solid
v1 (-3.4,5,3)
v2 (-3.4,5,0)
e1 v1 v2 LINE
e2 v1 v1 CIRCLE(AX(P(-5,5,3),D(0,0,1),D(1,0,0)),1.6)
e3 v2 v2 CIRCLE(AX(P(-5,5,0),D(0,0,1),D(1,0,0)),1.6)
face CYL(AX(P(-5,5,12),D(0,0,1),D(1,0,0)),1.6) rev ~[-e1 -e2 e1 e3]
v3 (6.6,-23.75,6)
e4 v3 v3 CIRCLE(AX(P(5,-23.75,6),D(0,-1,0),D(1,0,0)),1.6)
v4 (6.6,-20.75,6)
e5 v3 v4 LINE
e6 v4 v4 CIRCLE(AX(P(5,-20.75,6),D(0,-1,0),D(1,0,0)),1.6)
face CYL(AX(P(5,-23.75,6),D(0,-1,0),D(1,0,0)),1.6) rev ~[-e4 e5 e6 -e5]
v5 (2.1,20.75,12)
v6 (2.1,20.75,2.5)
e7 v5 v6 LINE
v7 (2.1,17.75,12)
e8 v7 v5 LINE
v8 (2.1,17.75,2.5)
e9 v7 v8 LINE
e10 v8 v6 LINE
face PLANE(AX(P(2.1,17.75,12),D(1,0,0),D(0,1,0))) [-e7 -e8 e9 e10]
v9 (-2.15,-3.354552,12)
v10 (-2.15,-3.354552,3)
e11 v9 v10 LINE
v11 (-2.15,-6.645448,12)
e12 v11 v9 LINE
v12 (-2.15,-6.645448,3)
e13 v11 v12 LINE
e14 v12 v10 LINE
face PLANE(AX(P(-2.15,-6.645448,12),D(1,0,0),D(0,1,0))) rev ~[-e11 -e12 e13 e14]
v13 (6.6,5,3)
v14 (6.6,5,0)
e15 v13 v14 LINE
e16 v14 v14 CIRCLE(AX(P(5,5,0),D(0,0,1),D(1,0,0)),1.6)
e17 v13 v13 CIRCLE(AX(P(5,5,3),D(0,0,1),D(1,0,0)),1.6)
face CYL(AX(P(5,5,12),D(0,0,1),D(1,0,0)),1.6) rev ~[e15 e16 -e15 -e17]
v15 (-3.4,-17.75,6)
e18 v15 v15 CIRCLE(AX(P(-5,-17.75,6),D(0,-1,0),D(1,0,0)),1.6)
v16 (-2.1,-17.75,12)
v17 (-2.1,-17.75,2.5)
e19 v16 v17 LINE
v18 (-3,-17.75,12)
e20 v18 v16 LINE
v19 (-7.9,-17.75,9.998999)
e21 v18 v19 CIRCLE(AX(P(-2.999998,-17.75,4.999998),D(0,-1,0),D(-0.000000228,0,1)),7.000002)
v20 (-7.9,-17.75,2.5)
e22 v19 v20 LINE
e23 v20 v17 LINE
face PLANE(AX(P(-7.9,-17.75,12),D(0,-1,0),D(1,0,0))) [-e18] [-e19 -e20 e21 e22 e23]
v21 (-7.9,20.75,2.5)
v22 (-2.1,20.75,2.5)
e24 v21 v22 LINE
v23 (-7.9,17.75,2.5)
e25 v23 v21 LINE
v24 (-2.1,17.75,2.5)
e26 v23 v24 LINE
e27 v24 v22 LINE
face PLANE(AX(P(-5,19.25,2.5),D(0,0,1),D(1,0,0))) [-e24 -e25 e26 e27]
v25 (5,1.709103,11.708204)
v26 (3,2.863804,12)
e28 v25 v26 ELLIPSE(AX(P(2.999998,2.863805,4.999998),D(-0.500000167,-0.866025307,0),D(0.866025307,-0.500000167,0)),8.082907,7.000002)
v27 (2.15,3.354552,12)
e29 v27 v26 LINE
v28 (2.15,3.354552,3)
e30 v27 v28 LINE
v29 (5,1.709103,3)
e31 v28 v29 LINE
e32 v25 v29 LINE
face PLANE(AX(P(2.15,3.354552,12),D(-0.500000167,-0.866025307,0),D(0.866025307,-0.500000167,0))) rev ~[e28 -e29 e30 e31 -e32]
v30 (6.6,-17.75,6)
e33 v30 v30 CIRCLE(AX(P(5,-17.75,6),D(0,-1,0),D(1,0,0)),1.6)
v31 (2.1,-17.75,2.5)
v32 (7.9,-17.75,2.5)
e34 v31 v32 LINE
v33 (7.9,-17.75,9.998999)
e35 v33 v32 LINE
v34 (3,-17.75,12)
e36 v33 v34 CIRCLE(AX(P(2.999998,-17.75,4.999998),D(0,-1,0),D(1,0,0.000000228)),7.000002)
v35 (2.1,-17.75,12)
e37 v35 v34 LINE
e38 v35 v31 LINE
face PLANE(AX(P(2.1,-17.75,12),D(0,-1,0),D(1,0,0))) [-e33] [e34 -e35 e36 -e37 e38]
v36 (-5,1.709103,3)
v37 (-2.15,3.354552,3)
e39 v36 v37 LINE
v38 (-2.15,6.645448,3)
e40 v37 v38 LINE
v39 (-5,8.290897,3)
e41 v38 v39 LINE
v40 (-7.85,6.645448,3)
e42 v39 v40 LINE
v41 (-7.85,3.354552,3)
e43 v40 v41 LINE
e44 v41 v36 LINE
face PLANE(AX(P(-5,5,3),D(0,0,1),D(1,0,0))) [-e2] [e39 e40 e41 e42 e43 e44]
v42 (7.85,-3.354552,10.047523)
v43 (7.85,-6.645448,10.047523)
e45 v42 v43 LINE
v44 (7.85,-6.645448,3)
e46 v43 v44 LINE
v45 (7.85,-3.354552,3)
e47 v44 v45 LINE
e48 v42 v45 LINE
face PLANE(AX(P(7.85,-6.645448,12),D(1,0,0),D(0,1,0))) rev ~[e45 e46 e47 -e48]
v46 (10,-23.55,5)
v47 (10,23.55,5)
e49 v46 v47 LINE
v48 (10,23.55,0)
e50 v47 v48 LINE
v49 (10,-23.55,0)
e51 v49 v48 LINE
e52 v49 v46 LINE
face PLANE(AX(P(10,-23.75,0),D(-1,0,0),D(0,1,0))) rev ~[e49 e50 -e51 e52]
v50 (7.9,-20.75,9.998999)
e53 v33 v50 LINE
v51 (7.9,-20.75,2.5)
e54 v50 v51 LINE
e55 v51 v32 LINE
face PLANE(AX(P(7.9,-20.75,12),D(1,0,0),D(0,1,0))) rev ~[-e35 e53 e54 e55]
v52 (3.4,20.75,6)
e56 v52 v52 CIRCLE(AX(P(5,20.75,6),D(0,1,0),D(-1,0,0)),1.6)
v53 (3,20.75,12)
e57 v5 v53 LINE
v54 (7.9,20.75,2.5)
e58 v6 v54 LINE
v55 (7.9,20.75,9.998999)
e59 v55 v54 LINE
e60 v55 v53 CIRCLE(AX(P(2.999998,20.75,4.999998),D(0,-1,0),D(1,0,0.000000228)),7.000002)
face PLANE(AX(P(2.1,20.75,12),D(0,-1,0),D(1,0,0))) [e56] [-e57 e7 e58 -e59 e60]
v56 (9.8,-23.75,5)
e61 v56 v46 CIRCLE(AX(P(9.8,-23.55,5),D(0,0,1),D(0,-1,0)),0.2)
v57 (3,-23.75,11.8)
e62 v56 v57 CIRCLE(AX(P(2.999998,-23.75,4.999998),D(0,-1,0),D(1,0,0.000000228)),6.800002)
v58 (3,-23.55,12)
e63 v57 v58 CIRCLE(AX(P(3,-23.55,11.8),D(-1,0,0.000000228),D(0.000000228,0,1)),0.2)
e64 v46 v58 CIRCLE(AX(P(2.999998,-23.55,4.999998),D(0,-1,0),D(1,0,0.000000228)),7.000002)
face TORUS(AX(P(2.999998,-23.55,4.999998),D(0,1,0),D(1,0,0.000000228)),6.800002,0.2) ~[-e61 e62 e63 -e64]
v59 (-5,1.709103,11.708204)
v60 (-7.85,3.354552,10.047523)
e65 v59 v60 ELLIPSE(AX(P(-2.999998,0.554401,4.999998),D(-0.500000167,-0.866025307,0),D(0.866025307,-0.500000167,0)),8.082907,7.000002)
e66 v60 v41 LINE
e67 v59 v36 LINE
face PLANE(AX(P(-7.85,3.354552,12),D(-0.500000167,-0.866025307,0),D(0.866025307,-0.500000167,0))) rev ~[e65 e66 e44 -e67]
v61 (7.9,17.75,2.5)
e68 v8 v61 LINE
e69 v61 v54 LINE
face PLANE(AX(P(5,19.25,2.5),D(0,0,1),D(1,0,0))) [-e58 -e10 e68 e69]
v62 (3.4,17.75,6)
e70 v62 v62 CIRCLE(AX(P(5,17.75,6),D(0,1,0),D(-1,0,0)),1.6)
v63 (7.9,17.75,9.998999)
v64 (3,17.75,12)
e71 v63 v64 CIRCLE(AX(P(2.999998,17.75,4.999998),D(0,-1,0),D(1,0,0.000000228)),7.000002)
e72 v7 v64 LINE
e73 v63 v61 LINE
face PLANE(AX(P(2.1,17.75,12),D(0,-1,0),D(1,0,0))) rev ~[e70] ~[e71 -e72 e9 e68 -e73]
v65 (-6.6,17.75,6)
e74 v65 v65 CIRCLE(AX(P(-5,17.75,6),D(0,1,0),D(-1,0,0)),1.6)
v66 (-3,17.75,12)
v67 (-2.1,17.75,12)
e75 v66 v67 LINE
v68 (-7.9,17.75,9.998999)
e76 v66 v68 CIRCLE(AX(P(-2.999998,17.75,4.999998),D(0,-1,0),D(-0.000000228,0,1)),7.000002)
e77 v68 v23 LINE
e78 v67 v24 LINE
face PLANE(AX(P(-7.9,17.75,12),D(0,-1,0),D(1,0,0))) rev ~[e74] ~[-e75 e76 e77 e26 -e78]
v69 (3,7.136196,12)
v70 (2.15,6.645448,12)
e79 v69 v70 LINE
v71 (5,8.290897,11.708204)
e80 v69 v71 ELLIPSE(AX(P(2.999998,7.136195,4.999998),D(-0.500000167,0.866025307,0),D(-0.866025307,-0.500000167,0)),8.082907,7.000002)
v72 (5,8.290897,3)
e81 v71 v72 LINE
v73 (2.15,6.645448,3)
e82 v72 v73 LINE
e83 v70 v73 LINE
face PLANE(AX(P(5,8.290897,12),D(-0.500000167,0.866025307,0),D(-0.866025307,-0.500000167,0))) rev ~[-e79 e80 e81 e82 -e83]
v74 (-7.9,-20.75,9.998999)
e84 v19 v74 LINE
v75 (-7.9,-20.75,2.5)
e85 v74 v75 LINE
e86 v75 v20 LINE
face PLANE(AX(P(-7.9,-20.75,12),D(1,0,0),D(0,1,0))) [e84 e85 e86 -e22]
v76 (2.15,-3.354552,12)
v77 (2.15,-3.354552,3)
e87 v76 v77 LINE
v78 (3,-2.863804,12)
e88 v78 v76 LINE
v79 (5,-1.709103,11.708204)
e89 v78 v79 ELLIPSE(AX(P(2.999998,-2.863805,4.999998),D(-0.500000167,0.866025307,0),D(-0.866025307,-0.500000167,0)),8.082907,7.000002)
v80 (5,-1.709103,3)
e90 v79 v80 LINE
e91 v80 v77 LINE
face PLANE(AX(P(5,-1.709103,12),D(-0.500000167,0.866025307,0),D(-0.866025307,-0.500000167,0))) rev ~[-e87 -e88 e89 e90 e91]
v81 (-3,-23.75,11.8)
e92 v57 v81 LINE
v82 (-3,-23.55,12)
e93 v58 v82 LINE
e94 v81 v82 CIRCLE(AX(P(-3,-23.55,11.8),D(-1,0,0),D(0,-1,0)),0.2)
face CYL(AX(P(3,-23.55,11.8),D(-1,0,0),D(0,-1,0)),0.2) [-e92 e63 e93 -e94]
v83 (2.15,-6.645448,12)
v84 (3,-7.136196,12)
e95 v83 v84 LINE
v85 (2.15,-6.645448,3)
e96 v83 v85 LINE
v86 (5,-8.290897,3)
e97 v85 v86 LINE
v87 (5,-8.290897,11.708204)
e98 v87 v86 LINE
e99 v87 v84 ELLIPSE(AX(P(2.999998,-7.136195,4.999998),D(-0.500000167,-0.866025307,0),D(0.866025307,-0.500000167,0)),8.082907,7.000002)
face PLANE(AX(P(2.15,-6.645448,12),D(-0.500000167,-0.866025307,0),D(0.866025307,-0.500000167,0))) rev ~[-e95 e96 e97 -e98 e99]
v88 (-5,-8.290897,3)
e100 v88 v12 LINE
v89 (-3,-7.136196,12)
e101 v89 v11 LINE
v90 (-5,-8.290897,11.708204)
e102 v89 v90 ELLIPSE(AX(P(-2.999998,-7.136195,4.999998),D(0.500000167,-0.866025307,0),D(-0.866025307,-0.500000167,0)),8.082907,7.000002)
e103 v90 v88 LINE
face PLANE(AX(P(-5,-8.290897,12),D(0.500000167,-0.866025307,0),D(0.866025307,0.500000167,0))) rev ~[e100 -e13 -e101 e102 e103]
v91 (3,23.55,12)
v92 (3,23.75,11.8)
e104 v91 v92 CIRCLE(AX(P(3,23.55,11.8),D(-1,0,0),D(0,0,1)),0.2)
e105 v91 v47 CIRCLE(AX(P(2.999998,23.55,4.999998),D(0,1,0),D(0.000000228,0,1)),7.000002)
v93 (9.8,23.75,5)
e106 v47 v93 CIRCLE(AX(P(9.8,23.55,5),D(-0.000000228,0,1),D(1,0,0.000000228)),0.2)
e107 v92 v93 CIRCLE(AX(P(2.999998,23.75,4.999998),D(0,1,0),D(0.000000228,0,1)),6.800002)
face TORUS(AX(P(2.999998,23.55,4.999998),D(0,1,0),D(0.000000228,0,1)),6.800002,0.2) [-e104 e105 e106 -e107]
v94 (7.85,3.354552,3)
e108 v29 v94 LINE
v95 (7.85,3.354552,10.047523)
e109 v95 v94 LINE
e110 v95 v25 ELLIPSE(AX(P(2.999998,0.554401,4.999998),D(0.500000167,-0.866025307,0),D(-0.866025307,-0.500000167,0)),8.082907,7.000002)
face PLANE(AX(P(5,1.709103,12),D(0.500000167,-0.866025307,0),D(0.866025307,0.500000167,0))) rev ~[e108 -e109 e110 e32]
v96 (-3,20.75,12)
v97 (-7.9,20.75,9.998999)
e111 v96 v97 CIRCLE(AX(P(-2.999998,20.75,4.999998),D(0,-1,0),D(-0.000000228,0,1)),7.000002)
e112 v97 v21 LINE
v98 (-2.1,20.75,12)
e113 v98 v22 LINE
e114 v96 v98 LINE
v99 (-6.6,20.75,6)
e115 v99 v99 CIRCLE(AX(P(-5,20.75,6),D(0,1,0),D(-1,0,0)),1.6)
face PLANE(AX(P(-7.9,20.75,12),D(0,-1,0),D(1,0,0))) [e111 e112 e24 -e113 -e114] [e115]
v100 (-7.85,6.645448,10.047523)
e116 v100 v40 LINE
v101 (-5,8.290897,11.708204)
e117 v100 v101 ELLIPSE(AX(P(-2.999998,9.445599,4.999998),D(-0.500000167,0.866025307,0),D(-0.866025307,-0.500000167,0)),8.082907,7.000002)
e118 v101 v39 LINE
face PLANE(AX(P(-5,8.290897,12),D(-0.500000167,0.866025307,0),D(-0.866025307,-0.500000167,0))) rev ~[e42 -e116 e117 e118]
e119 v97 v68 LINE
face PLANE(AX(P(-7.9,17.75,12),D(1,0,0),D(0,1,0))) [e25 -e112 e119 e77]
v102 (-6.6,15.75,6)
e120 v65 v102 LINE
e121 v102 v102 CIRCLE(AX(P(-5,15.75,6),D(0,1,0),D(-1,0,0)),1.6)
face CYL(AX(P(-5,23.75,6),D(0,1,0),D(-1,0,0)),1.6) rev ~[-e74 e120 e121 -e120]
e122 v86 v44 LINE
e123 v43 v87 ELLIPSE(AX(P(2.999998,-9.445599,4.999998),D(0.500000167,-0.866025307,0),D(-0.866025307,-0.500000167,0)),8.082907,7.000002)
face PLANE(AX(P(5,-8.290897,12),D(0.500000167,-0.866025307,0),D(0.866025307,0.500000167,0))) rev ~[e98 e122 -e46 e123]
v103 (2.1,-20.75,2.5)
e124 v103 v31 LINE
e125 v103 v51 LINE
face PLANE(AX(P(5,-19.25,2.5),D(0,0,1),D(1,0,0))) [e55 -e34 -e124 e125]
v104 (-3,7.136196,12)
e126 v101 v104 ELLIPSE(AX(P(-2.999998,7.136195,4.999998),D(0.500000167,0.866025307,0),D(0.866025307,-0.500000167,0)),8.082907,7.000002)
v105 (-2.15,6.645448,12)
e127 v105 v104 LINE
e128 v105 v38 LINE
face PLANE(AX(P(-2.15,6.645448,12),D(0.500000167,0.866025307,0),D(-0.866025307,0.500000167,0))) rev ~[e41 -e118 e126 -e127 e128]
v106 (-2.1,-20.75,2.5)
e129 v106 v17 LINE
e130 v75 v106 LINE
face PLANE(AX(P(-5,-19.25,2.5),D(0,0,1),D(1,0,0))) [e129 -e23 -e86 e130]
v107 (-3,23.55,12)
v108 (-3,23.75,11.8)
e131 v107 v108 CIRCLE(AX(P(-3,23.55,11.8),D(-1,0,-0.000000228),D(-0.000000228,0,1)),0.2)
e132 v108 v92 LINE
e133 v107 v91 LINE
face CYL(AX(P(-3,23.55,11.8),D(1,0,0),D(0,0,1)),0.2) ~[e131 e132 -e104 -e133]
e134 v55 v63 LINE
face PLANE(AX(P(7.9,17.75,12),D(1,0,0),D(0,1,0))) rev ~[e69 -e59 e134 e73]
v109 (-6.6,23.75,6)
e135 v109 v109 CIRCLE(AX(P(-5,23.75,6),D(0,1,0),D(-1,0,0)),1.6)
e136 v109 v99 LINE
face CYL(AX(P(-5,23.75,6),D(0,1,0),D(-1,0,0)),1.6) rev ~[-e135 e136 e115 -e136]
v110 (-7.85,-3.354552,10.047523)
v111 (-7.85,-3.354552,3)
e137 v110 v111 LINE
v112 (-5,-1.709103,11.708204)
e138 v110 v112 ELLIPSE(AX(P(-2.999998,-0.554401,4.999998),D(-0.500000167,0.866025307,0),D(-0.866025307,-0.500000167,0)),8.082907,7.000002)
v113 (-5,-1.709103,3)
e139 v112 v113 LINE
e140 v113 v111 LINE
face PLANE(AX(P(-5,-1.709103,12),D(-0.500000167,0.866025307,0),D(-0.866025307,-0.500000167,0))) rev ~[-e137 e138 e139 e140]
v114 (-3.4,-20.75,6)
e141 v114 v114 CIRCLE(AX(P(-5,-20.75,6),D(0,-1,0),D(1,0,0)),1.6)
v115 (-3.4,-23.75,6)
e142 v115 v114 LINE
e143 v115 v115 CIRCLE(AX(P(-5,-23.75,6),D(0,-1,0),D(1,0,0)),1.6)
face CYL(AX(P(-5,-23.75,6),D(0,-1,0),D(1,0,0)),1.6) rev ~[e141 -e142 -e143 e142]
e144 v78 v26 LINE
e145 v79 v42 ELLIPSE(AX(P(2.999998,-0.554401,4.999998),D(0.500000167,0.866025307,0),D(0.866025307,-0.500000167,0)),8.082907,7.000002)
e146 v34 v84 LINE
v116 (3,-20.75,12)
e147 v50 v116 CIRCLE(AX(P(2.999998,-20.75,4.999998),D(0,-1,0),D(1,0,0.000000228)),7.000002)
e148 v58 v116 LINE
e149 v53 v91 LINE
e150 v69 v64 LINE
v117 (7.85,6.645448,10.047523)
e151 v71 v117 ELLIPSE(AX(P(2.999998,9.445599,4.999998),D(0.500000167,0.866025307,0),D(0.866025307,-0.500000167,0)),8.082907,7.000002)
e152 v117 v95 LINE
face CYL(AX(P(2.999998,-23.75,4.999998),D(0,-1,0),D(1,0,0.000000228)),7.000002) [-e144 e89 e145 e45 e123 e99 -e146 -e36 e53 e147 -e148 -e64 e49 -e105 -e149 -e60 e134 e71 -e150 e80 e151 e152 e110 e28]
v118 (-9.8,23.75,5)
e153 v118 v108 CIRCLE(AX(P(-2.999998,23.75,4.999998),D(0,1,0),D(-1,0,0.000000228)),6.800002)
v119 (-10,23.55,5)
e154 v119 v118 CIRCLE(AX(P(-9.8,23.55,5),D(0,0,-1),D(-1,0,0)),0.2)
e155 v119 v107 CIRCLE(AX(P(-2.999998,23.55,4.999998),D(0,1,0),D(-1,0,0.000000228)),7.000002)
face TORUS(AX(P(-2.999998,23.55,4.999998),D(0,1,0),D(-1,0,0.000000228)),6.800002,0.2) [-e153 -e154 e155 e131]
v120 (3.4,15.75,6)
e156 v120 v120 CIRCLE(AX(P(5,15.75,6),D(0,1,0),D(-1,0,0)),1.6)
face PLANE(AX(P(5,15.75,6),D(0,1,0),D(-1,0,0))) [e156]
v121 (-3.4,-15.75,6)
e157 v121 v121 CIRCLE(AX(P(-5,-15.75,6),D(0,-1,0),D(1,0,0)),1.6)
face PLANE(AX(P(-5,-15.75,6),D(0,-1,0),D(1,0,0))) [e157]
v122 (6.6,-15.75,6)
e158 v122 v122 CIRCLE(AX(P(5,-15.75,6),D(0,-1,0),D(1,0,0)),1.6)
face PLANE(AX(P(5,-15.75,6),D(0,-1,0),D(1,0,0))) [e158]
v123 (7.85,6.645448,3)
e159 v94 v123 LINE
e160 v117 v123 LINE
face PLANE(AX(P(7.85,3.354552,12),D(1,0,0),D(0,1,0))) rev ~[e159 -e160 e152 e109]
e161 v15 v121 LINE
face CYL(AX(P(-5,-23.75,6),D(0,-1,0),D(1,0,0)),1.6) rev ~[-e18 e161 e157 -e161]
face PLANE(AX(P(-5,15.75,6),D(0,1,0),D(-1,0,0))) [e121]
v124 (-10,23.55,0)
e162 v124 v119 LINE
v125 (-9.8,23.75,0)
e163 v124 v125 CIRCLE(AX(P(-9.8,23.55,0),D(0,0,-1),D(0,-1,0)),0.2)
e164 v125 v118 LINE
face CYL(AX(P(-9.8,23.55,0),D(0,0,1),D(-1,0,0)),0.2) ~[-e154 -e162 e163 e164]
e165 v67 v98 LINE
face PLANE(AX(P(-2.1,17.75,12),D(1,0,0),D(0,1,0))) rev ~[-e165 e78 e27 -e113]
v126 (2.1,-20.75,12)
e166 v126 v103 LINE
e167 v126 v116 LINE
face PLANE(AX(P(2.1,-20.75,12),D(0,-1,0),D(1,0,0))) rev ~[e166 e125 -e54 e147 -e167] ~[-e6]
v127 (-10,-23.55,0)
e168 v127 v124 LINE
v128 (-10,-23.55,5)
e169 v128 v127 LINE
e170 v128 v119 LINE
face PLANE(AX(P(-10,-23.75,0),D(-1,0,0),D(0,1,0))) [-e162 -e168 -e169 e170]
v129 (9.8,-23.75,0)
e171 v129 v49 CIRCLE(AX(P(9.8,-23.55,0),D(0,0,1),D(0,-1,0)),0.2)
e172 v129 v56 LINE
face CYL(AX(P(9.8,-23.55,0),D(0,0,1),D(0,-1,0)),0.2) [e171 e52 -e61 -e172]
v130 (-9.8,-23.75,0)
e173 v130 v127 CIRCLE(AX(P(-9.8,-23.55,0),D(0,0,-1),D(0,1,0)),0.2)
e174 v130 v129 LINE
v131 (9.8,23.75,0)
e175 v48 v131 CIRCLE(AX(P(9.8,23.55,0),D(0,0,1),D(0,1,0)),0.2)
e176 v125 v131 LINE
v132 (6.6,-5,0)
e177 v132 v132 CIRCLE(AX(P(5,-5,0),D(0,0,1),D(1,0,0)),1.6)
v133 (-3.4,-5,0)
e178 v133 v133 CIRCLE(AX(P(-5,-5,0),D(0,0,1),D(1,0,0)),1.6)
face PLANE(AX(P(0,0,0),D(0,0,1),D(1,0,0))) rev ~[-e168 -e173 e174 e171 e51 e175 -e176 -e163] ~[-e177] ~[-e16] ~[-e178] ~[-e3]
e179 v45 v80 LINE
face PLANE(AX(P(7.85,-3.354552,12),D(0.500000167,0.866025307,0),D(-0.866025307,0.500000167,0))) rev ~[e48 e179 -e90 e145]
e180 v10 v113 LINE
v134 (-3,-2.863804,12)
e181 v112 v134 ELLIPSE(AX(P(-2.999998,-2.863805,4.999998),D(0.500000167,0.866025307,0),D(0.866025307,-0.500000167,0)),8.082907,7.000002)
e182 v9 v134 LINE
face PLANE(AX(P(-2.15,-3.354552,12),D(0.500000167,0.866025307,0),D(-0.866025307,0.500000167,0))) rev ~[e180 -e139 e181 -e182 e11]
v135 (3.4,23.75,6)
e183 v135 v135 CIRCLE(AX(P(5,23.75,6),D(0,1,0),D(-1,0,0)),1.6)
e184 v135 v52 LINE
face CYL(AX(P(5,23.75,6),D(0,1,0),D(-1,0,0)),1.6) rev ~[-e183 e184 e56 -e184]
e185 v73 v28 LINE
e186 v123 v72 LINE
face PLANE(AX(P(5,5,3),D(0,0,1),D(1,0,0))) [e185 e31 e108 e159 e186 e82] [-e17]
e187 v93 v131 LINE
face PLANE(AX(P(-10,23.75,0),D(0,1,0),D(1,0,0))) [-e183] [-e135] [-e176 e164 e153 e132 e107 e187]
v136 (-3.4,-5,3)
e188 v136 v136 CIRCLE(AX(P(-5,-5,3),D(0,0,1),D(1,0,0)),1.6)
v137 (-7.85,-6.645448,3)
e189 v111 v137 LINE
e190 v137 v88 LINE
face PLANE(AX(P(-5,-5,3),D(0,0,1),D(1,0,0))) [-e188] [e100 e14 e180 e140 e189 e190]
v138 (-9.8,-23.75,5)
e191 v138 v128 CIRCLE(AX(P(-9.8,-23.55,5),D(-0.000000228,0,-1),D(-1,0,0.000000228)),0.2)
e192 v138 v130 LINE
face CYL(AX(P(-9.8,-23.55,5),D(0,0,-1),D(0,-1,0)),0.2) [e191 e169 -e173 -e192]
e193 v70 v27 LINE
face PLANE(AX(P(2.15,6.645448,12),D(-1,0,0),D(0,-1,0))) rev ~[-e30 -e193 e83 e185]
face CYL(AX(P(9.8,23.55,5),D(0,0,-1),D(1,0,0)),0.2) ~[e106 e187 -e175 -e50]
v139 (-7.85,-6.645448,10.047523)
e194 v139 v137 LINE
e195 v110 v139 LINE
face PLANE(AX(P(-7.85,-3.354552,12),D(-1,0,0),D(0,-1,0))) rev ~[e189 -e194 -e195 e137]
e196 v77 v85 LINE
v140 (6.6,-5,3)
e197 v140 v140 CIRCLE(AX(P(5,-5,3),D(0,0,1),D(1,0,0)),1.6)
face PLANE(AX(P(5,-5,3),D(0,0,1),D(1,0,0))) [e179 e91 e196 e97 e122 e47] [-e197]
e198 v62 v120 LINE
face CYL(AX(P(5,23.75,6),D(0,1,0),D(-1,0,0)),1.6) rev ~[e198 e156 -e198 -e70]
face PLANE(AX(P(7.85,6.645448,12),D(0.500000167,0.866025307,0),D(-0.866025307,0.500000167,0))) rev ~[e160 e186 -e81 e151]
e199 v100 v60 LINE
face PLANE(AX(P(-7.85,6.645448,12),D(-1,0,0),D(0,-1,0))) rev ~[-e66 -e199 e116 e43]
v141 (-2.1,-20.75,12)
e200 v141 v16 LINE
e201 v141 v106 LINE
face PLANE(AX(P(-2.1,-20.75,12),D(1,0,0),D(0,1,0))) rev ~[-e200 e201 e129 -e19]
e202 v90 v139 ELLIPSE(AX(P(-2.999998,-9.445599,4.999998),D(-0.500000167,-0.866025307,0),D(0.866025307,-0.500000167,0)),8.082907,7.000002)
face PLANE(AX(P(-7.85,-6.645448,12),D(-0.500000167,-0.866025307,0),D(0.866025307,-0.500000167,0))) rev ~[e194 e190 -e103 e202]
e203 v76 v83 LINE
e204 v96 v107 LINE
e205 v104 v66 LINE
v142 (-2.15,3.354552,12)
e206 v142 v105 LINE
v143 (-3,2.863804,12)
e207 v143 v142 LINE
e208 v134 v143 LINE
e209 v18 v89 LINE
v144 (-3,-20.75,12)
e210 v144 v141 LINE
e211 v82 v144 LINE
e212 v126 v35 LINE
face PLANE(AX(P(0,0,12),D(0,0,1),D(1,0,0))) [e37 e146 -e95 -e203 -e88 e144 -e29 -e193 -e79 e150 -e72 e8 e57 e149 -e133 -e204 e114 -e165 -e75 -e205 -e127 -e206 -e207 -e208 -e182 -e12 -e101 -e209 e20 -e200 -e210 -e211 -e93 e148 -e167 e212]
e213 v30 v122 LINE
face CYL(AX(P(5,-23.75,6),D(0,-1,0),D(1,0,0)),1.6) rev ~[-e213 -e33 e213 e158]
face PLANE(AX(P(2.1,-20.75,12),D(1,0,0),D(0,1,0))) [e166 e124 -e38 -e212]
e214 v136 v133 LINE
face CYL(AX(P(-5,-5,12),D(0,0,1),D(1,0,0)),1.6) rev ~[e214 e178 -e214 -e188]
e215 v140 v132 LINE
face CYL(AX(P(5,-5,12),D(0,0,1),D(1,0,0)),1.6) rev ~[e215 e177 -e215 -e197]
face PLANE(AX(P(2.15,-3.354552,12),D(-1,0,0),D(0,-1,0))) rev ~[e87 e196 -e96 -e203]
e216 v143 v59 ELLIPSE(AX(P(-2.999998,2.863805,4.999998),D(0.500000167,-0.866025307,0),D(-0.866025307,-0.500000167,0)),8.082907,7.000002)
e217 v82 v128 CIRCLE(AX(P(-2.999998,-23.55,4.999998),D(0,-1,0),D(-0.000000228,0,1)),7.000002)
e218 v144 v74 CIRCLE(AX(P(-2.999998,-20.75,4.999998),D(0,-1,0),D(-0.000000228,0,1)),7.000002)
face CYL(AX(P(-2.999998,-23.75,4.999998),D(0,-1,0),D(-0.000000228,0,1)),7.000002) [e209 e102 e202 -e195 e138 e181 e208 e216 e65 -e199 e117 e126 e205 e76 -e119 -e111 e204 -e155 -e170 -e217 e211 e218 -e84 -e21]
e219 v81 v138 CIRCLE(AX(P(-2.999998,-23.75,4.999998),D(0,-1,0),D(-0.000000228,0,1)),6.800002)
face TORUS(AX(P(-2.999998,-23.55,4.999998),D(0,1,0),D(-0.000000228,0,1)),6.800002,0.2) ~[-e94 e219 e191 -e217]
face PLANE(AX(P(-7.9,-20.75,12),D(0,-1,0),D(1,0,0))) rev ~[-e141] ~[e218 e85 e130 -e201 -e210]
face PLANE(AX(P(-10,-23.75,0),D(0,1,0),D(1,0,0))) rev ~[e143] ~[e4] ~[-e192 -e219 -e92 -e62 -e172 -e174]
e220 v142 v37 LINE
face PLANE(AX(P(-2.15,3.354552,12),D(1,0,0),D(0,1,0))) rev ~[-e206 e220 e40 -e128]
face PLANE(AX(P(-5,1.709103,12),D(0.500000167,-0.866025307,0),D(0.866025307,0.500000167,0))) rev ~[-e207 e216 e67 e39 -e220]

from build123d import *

# Parameters (mm, degrees)
SKETCH_W        = 20
SKETCH_H        = 47.5
PAD_DEPTH       = 12
SKETCH001_R     = 1.6
POCKET_DEPTH    = 8
SKETCH002_R     = 1.6
POCKET001_DEPTH = 8
SKETCH003_W     = 5.8
SKETCH003_H     = 3
POCKET002_DEPTH = 9.5
SKETCH004_R     = 1.6
POCKET003_DEPTH = 12
POCKET004_DEPTH = 9
POCKET005_DEPTH = 50
FILLET_R        = 0.2


with BuildPart() as part:
    # Sketch → Pad (new body)
    with BuildSketch(Plane.XY):
        Rectangle(SKETCH_W, SKETCH_H)
    extrude(amount=PAD_DEPTH)

    # Sketch001 (on Face3 of Pad) → Pocket (cut)
    with BuildSketch(Plane.XZ.offset(23.75)):
        with Locations((-5, 6)):
            Circle(SKETCH001_R)
        with Locations((5, 6)):
            Circle(SKETCH001_R)
    extrude(amount=-POCKET_DEPTH, mode=Mode.SUBTRACT)

    # Sketch002 (on Face1 of Pocket) → Pocket001 (cut)
    with BuildSketch(Plane(origin=(0, 23.75, 0), x_dir=(-1, 0, 0), z_dir=(0, 1, 0))):
        with Locations((-5, 6)):
            Circle(SKETCH002_R)
        with Locations((5, 6)):
            Circle(SKETCH002_R)
    extrude(amount=-POCKET001_DEPTH, mode=Mode.SUBTRACT)

    # Sketch003 (on Face4 of Pocket001) → Pocket002 (cut)
    with BuildSketch(Plane.XY.offset(12)):
        with Locations((-5, 19.25)):
            Rectangle(SKETCH003_W, SKETCH003_H)
        with Locations((5, 19.25)):
            Rectangle(SKETCH003_W, SKETCH003_H)
        with Locations((-5, -19.25)):
            Rectangle(SKETCH003_W, SKETCH003_H)
        with Locations((5, -19.25)):
            Rectangle(SKETCH003_W, SKETCH003_H)
    extrude(amount=-POCKET002_DEPTH, mode=Mode.SUBTRACT)

    # Sketch004 (on Face4 of Pocket002) → Pocket003 (cut)
    with BuildSketch(Plane.XY.offset(12)):
        with Locations((-5, 5)):
            Circle(SKETCH004_R)
        with Locations((5, 5)):
            Circle(SKETCH004_R)
        with Locations((-5, -5)):
            Circle(SKETCH004_R)
        with Locations((5, -5)):
            Circle(SKETCH004_R)
    extrude(amount=-POCKET003_DEPTH, mode=Mode.SUBTRACT)

    # Sketch005 (on Face4 of Pocket003) → Pocket004 (cut)
    with BuildSketch(Plane.XY.offset(12)):
        Polygon((-5, 8.290897), (-7.85, 6.645448), (-7.85, 3.354552), (-5, 1.709103), (-2.15, 3.354552), (-2.15, 6.645448), align=None)
        Polygon((7.85, 6.645448), (5, 8.290897), (2.15, 6.645448), (2.15, 3.354552), (5, 1.709103), (7.85, 3.354552), align=None)
        Polygon((-5, -1.709103), (-7.85, -3.354552), (-7.85, -6.645448), (-5, -8.290897), (-2.15, -6.645448), (-2.15, -3.354552), align=None)
        Polygon((7.85, -3.354552), (5, -1.709103), (2.15, -3.354552), (2.15, -6.645448), (5, -8.290897), (7.85, -6.645448), align=None)
    extrude(amount=-POCKET004_DEPTH, mode=Mode.SUBTRACT)

    # Sketch008 (on Face8 of Pocket004) → Pocket005 (cut)
    with BuildSketch(Plane.XZ.offset(23.75)):
        with BuildLine():
            ThreePointArc((-3, 12), (-7.949747, 9.949747), (-10, 5))
            Line((-10, 5), (-10, 13))
            Line((10, 13), (-10, 13))
            Line((10, 5), (10, 13))
            ThreePointArc((10, 5), (7.949747, 9.949747), (3, 12))
            Line((-3, 12), (3, 12))
        make_face()
    extrude(amount=-POCKET005_DEPTH, mode=Mode.SUBTRACT)

    # Fillet
    fillet_edges = [part.edges().sort_by_distance(p)[0] for p in [
        (10, -23.75, 2.5),
        (-10, -23.75, 2.5),
        (-10, 23.75, 2.5),
        (10, 23.75, 2.5),
    ]]
    fillet(fillet_edges, radius=FILLET_R)


solid = part.part
